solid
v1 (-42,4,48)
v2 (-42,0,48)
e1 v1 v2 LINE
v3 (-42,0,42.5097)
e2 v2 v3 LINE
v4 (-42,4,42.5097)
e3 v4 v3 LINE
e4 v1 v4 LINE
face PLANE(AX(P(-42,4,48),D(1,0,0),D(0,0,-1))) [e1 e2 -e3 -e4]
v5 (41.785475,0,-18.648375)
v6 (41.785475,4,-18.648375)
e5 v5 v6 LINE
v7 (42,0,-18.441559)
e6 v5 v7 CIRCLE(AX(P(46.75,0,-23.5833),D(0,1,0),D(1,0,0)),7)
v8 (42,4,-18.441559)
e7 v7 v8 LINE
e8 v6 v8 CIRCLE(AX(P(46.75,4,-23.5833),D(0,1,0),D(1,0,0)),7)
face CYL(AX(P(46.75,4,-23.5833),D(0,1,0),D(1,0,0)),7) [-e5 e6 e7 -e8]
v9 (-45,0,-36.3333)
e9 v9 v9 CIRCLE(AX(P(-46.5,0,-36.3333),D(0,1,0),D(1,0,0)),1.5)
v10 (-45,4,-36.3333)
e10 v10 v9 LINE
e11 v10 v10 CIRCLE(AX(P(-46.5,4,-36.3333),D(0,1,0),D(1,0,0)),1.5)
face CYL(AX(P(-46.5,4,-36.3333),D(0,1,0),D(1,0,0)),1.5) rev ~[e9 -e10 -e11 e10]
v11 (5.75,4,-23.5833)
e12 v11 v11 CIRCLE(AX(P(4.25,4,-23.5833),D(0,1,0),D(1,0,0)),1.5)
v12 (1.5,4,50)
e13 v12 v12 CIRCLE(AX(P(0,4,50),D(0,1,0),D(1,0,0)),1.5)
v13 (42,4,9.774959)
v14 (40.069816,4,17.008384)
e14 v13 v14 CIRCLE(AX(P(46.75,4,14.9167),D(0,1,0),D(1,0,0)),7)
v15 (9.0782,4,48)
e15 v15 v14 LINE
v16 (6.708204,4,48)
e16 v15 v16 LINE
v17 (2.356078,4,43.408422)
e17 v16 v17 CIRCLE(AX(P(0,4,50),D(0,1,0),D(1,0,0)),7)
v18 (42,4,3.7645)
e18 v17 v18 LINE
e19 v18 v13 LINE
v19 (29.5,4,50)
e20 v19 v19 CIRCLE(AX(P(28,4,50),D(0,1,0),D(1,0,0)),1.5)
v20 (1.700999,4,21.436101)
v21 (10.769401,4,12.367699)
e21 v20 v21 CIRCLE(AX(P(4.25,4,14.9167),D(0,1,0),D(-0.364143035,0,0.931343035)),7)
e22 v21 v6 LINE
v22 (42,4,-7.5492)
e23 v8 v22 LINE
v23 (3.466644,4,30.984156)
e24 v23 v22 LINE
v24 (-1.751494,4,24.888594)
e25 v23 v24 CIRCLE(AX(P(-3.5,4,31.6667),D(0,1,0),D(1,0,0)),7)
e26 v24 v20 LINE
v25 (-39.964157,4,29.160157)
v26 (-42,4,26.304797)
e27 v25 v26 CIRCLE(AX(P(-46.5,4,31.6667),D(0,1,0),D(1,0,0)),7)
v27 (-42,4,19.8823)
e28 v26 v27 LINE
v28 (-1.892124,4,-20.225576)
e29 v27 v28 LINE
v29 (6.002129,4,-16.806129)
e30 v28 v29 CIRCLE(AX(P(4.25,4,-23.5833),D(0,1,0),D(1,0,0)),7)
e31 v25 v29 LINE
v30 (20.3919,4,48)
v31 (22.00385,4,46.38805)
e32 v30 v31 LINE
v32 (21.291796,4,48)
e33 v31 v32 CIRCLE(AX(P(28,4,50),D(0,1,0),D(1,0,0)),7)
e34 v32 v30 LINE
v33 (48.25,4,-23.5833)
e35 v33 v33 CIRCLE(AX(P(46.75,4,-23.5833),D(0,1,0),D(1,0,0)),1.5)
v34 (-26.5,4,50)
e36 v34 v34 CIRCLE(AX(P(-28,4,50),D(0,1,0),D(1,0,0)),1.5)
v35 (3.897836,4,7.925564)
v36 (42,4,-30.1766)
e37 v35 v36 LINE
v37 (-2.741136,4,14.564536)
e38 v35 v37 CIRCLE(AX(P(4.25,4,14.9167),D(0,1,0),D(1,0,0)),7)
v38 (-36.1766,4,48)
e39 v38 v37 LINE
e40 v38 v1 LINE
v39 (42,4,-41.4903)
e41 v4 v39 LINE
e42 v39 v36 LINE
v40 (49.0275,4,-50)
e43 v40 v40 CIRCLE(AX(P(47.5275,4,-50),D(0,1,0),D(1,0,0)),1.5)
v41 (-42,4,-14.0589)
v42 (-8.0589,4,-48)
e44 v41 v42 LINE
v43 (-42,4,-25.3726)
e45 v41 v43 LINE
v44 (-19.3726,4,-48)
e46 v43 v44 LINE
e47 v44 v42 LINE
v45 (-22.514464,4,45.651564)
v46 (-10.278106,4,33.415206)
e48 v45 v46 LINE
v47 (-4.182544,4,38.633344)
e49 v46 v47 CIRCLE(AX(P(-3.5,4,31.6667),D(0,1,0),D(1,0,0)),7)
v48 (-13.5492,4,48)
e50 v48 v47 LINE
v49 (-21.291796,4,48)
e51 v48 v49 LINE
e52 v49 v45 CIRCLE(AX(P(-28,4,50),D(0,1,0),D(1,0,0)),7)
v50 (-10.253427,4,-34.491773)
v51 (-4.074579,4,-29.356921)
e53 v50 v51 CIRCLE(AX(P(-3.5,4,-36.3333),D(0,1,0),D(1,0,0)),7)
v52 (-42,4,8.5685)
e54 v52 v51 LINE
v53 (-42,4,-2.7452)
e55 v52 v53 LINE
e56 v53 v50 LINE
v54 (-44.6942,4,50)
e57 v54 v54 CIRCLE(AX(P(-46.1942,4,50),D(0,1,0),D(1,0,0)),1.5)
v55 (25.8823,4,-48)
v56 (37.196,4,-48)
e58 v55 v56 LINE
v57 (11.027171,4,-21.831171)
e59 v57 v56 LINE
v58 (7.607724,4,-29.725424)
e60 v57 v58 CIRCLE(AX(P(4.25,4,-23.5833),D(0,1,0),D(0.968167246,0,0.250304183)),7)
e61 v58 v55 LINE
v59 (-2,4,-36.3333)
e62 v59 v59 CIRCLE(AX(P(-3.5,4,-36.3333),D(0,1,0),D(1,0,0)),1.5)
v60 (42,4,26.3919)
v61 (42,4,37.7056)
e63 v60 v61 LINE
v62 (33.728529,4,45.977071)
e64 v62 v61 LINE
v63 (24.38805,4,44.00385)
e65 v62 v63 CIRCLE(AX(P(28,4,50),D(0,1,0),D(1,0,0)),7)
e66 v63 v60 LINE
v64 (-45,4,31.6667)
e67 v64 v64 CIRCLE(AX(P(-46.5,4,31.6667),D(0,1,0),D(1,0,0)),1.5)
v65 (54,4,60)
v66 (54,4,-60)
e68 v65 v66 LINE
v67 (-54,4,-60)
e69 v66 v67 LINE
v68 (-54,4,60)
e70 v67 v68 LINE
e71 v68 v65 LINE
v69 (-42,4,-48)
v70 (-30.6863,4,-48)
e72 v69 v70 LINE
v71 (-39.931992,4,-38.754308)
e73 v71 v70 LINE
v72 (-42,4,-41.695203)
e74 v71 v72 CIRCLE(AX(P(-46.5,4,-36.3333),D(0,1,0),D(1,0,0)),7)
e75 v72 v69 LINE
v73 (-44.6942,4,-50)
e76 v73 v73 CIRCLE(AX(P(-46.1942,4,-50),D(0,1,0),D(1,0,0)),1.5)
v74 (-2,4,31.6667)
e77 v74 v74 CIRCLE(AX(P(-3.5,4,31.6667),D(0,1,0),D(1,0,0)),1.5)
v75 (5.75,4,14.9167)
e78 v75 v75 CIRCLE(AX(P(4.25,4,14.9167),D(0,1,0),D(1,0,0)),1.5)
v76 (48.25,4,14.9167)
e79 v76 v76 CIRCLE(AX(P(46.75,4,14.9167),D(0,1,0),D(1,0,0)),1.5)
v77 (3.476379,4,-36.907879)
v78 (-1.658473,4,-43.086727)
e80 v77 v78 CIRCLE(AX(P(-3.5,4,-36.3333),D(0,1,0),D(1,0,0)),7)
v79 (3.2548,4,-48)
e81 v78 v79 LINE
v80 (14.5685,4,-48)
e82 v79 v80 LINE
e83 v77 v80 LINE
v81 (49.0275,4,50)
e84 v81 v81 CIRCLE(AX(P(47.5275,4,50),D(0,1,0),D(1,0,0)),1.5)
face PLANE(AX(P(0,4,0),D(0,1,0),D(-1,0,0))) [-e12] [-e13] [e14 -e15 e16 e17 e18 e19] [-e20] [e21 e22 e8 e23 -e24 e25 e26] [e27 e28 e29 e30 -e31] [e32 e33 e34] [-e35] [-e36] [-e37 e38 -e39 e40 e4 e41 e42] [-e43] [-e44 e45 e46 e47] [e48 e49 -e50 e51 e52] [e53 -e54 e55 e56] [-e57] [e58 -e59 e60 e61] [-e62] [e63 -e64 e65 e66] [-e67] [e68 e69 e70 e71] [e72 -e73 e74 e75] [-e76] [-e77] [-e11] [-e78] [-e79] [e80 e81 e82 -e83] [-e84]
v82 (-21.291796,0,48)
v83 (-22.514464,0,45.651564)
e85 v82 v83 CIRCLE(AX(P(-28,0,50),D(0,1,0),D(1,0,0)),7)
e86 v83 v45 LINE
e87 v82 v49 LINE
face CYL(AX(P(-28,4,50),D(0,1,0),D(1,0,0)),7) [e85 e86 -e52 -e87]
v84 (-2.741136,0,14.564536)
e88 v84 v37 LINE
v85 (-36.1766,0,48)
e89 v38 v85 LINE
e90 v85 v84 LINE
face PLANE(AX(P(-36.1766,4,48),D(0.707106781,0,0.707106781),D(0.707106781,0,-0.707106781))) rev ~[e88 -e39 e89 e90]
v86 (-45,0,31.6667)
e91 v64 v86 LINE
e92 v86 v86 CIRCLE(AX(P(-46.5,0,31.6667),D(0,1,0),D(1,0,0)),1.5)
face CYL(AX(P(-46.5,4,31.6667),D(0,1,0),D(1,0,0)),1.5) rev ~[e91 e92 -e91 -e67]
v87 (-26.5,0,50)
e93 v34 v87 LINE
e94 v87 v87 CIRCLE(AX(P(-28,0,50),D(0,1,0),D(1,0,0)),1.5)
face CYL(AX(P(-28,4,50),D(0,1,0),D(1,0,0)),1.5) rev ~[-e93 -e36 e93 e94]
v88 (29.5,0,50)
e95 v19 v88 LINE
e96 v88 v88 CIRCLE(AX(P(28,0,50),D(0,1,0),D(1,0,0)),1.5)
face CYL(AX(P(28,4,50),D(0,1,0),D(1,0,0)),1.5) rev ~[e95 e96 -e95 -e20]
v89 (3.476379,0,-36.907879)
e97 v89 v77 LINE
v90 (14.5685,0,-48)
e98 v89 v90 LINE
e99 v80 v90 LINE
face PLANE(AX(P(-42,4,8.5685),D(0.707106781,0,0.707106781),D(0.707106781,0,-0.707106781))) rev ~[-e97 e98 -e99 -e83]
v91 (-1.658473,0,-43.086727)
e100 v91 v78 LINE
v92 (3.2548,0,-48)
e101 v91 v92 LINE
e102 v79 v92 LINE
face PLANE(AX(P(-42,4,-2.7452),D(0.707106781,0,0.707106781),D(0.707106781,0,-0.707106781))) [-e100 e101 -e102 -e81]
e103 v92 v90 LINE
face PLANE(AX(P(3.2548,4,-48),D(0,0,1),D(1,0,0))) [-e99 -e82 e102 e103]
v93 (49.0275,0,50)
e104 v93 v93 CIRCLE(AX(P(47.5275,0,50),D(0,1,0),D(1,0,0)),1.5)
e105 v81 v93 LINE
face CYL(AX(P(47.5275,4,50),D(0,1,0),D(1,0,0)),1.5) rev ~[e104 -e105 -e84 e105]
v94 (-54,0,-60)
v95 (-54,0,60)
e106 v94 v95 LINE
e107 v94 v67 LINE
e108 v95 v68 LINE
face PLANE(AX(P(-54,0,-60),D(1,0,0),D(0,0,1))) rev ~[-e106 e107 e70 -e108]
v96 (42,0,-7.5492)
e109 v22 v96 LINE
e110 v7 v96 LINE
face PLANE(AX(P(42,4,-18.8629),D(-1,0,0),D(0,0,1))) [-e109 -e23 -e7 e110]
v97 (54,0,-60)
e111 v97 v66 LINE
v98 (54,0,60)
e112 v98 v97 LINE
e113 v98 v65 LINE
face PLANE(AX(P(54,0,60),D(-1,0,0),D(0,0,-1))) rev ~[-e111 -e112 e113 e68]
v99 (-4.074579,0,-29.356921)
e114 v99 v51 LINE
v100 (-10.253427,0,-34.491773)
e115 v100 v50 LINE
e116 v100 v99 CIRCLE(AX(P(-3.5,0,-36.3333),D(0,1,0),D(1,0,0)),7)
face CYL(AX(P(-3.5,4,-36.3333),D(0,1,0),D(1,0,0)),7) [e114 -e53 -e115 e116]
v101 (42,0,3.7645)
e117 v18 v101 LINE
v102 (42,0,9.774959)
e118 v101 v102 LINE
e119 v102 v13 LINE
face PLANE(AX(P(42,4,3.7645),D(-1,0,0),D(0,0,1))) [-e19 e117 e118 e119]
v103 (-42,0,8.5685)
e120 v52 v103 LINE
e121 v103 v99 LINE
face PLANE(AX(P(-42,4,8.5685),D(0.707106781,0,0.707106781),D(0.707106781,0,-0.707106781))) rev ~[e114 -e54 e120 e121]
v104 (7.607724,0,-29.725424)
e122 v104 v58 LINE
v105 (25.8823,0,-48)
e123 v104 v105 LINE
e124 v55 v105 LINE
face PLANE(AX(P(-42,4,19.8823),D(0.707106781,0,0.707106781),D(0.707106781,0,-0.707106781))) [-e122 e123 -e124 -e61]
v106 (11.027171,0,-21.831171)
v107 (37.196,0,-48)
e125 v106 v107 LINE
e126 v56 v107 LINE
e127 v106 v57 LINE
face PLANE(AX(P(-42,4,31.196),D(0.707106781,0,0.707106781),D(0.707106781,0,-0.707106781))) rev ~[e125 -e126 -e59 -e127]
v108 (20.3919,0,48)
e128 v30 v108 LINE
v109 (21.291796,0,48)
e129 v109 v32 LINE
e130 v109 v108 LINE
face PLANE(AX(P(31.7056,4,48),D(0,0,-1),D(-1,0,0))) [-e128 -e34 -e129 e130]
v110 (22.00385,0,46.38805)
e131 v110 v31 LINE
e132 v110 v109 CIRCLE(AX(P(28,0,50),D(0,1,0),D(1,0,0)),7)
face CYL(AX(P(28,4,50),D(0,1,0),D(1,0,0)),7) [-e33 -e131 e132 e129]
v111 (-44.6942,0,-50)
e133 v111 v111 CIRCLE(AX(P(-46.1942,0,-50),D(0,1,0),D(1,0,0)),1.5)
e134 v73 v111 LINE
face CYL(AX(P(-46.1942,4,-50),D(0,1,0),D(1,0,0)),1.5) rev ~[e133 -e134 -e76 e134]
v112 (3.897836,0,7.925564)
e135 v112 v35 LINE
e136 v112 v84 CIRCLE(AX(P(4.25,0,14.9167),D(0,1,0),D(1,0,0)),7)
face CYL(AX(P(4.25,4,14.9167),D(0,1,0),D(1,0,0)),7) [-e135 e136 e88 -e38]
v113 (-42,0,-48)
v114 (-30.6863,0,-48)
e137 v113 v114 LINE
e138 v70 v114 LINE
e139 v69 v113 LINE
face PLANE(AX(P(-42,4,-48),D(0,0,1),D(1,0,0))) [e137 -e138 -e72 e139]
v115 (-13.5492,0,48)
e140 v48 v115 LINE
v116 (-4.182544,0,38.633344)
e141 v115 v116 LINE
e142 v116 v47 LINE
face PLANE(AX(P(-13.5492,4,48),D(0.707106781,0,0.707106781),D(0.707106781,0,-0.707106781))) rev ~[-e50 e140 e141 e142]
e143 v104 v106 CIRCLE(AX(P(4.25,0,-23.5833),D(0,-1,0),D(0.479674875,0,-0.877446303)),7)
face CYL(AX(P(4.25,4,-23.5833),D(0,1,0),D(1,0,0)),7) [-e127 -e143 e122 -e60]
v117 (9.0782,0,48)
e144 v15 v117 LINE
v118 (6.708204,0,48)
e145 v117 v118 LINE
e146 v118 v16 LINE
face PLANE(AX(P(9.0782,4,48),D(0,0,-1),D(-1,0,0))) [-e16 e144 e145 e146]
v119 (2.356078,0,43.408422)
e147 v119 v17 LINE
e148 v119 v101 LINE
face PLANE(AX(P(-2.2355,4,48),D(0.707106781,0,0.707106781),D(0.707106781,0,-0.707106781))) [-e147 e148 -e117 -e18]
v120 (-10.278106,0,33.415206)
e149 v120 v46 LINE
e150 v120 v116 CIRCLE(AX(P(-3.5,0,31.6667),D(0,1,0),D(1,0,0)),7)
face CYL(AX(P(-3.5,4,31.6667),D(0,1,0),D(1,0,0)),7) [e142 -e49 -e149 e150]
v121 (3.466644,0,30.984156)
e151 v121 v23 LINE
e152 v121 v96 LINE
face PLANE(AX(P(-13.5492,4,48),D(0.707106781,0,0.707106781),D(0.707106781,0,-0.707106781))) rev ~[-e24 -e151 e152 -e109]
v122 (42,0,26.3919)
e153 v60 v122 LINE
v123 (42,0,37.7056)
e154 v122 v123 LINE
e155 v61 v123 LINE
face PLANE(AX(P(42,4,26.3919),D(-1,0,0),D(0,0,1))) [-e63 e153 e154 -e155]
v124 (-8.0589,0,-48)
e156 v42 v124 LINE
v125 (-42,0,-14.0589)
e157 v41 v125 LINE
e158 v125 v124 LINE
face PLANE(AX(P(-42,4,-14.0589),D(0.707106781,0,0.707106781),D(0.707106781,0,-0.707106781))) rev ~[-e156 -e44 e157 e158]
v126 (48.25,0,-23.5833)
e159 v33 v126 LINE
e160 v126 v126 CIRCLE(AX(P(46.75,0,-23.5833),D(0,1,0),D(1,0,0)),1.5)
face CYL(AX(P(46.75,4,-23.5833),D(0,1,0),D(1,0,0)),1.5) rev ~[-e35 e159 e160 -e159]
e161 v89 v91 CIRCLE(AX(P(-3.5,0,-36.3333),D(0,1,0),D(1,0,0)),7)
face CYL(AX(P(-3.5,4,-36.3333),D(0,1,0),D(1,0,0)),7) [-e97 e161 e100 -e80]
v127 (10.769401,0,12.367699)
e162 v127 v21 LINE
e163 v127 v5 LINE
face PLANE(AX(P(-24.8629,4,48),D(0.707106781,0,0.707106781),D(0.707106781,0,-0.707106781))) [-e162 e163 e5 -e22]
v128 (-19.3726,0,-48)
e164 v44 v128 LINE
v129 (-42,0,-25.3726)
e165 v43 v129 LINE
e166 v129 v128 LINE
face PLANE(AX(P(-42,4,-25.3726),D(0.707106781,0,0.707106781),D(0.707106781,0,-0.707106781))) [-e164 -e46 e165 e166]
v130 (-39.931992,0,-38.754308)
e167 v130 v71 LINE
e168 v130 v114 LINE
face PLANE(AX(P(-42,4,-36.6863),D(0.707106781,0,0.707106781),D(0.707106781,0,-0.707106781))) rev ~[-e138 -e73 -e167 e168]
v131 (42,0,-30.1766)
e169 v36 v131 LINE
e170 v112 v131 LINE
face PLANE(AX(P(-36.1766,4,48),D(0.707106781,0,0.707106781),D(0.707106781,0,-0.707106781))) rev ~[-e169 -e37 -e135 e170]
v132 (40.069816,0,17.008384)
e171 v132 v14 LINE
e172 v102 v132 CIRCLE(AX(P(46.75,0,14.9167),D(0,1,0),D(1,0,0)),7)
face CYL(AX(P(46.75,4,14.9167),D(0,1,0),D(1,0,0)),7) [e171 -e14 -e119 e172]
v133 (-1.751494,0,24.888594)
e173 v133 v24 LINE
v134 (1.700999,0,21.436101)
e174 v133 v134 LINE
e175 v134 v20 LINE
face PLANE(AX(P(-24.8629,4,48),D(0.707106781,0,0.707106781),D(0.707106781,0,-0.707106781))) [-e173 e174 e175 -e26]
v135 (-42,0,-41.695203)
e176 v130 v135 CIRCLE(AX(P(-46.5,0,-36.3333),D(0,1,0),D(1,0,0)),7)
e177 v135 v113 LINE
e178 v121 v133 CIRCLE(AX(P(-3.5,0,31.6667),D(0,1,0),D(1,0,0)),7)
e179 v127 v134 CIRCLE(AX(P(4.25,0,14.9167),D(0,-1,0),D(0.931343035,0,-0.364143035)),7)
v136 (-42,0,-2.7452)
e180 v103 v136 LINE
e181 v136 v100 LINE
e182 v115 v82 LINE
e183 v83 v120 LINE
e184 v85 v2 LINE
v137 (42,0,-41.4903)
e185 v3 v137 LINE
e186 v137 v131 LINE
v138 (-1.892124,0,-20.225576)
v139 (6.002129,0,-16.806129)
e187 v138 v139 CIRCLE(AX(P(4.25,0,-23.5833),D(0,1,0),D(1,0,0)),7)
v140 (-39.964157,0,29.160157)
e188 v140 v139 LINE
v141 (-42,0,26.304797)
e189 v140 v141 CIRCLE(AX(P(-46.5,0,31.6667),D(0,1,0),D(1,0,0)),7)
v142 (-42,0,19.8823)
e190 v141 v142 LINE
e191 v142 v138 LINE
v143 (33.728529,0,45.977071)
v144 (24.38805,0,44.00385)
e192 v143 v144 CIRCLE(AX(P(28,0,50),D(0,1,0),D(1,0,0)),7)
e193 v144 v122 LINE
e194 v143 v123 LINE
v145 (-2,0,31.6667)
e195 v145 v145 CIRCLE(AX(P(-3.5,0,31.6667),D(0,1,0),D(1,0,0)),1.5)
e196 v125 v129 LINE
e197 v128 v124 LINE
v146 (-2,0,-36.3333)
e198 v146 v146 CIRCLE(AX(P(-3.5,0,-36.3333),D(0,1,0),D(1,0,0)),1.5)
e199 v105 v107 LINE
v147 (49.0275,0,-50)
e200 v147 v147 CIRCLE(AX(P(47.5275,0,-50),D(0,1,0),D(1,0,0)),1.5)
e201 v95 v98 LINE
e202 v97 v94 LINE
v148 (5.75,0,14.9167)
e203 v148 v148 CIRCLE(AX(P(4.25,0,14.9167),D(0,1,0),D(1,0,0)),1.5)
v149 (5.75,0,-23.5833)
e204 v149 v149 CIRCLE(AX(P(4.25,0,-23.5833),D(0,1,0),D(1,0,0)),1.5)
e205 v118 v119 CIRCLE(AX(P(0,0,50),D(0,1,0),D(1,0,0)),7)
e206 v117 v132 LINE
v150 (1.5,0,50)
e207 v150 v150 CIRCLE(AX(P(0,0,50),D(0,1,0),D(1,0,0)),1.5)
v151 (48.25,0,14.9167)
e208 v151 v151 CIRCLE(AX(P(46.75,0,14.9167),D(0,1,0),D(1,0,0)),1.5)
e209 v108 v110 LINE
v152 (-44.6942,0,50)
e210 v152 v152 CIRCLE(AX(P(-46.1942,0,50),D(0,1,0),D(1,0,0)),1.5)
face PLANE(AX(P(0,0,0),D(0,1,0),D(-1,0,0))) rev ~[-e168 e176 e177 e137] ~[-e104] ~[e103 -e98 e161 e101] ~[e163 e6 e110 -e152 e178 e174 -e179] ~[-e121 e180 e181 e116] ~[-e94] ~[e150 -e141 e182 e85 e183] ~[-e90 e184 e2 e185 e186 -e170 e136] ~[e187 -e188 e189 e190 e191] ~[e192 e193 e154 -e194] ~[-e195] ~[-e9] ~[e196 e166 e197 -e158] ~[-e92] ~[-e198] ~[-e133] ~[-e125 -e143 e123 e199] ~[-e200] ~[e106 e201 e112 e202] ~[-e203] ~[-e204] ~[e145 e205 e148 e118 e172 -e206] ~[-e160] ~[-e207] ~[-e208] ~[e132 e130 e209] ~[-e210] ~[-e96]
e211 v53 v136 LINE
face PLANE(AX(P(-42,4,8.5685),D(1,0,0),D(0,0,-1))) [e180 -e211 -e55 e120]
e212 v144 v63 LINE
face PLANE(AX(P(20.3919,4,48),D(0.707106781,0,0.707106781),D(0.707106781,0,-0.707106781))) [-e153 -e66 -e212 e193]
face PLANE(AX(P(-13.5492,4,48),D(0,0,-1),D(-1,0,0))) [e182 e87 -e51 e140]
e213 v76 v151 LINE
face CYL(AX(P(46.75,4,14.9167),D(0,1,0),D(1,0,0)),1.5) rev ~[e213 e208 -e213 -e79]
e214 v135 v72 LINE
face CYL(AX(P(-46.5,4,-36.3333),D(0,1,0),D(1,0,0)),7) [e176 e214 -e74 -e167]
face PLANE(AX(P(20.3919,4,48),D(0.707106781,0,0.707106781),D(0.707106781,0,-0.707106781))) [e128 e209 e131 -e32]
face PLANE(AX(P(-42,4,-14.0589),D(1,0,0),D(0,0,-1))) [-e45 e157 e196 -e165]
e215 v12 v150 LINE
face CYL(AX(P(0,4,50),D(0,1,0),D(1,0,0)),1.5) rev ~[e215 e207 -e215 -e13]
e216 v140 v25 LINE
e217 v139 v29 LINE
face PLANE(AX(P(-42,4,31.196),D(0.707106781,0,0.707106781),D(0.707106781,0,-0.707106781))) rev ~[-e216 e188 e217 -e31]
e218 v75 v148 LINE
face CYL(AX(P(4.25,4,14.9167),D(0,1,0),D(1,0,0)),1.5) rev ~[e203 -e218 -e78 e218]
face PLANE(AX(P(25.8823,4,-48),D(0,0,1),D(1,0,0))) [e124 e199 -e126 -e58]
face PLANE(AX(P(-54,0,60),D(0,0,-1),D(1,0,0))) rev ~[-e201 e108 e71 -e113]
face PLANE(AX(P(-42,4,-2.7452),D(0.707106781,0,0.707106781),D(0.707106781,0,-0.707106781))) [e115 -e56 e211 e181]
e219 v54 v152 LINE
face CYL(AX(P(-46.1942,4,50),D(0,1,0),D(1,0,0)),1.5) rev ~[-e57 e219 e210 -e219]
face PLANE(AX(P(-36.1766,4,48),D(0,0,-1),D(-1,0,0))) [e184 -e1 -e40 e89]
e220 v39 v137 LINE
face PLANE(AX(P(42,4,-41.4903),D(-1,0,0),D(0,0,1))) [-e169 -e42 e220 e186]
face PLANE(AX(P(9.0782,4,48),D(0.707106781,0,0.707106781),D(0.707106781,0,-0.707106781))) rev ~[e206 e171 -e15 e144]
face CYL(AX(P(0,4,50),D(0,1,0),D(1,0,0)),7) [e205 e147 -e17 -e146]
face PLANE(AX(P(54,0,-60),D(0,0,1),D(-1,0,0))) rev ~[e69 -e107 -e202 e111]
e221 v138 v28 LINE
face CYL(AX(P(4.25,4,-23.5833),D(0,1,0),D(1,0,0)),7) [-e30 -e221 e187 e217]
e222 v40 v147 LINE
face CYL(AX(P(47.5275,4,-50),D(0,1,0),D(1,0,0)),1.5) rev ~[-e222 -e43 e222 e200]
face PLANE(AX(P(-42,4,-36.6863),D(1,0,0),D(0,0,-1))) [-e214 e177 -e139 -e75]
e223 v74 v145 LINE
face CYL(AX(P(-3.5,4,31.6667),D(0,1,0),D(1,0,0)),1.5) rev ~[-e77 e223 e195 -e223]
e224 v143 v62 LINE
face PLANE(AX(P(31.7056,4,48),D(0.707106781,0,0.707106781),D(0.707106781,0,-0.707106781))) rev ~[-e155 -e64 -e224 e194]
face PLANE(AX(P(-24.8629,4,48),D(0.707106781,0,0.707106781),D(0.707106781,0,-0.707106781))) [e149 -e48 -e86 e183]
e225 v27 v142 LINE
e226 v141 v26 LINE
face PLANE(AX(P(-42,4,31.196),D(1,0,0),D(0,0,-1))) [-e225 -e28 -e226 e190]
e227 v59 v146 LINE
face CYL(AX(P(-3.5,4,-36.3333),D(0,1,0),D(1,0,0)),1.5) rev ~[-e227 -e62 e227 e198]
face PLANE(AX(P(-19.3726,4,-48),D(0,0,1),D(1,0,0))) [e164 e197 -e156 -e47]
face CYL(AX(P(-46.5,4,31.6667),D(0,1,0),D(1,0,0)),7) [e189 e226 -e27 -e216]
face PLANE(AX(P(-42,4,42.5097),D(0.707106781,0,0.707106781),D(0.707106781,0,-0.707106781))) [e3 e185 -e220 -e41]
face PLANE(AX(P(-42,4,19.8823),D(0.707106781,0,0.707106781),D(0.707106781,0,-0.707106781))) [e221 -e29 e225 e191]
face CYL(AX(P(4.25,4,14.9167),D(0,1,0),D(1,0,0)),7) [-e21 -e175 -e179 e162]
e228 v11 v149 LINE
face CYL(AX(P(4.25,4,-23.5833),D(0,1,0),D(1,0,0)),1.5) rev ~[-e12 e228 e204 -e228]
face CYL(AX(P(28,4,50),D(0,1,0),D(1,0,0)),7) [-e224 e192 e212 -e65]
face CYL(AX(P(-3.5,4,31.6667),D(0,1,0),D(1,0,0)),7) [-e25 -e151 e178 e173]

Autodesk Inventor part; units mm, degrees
ref_plane "YZ Plane" through (0, 0, 0) normal (1, 0, 0) x (0, 1, 0)
ref_plane "XZ Plane" through (0, 0, 0) normal (0, 1, 0) x (-1, 0, 0)
ref_plane "XY Plane" through (0, 0, 0) normal (0, 0, 1) x (1, 0, 0)
sketch "Boceto1" plane through (0, 0, 0) normal (0, 1, 0) x (-1, 0, 0)
  line L0 (54, 60) -> (-54, 60)
  line L1 (-54, 60) -> (-54, -60)
  line L2 (-54, -60) -> (54, -60)
  line L3 (54, -60) -> (54, 60)
  line L4 (141.1986, 0) -> (-141.1986, 0) construction
  line L5 (0, -44.0939) -> (0, 44.0939) construction
  point P0 (0, 0)
  point P1 (54, 0)
  point P2 (0, -60)
  point P3 (0, 0)
  dimension "d0" = 108
  dimension "d1" = 120
extrude "Extrusión1" add sketch "Boceto1" along normal blind 4
sketch "Boceto2" plane through (0, 4, 0) normal (0, 1, 0) x (1, 0, 0)
  circle A0 centre (-46.5, 36.3333) radius 1.5 projected
  circle A1 centre (-3.5, 36.3333) radius 1.5 projected
  circle A2 centre (-46.5, -31.6667) radius 1.5 projected
  circle A3 centre (-3.5, -31.6667) radius 1.5 projected
  circle A4 centre (4.25, -14.9167) radius 1.5 projected
  circle A5 centre (46.75, -14.9167) radius 1.5 projected
  circle A6 centre (46.75, 23.5833) radius 1.5 projected
  circle A7 centre (4.25, 23.5833) radius 1.5 projected
  circle A8 centre (0, -50) radius 1.5
  circle A9 centre (28, -50) radius 1.5
  circle A10 centre (-28, -50) radius 1.5
  line L0 (-28, -50) -> (28, -50) construction
  line L1 (-54, -60) -> (54, -60) construction
  circle A11 centre (-46.5, 36.3333) radius 7
  circle A12 centre (-3.5, 36.3333) radius 7
  circle A13 centre (4.25, 23.5833) radius 7
  circle A14 centre (46.75, 23.5833) radius 7
  circle A15 centre (46.75, -14.9167) radius 7
  circle A16 centre (4.25, -14.9167) radius 7
  circle A17 centre (-3.5, -31.6667) radius 7
  circle A18 centre (-46.5, -31.6667) radius 7
  circle A19 centre (-28, -50) radius 7
  circle A20 centre (0, -50) radius 7
  circle A21 centre (28, -50) radius 7
  point P0 (0, 0)
  dimension "d9" = 28
  dimension "d10" = 3
  dimension "d11" = 10
  dimension "d33" = 14
sketch "Boceto3" plane through (0, 4, 0) normal (0, 1, 0) x (1, 0, 0)
  line L0 (-54, -60) -> (54, -60) projected
  line L1 (54, -60) -> (54, 60) projected
  line L2 (54, 60) -> (-54, 60) projected
  line L3 (-54, 60) -> (-54, -60) projected
  line L4 (-42, 48) -> (42, 48)
  line L5 (42, 48) -> (42, -48)
  line L6 (42, -48) -> (-42, -48)
  line L7 (-42, -48) -> (-42, 48)
  line L8 (-42, 36.6863) -> (-30.6863, 48)
  line L9 (-42, 25.3726) -> (-19.3726, 48)
  line L10 (-42, 14.0589) -> (-8.0589, 48)
  line L11 (-42, 2.7452) -> (3.2548, 48)
  line L12 (-42, -8.5685) -> (14.5685, 48)
  line L13 (-42, -19.8823) -> (25.8823, 48)
  line L14 (-42, -31.196) -> (37.196, 48)
  line L15 (-42, -42.5097) -> (42, 41.4903)
  line L16 (-36.1766, -48) -> (42, 30.1766)
  line L17 (-24.8629, -48) -> (42, 18.8629)
  line L18 (-13.5492, -48) -> (42, 7.5492)
  line L19 (-2.2355, -48) -> (42, -3.7645)
  line L20 (9.0782, -48) -> (42, -15.0782)
  line L21 (20.3919, -48) -> (42, -26.3919)
  line L22 (31.7056, -48) -> (42, -37.7056)
  point P0 (0, 0)
  point P1 (0, 48)
  point P2 (0, 60)
  dimension "d12" = 12
  dimension "d13" = 12
  dimension "d14" = 12
  dimension "d15" = 45
  dimension "d16" = 8
  dimension "d17" = 8
  dimension "d18" = 8
  dimension "d19" = 8
  dimension "d20" = 8
  dimension "d21" = 8
  dimension "d22" = 8
  dimension "d23" = 8
  dimension "d24" = 8
  dimension "d25" = 8
  dimension "d26" = 8
  dimension "d27" = 8
  dimension "d28" = 8
  dimension "d29" = 8
  dimension "d30" = 8
extrude "Extrusión2" cut sketch "Boceto3" against normal blind 10 contours L4 L8 L7 | L4 L10 L7 L9 | L4 L12 L7 L11 | L4 L14 L7 L13 | L15 L5 L16 L6 L7 | L5 L18 L6 L17 | L5 L20 L6 L19 | L5 L22 L6 L21
extrude "Extrusión3" add sketch "Boceto2" against normal blind 4
sketch "Boceto4" plane through (0, 4, 0) normal (0, 1, 0) x (1, 0, 0)
  circle A0 centre (-46.5, 36.3333) radius 1.5 projected
  circle A1 centre (46.75, 23.5833) radius 1.5 projected
  circle A2 centre (46.75, -14.9167) radius 1.5 projected
  circle A3 centre (28, -50) radius 1.5 projected
  circle A4 centre (0, -50) radius 1.5 projected
  circle A5 centre (-28, -50) radius 1.5 projected
  circle A6 centre (-46.5, -31.6667) radius 1.5 projected
  circle A7 centre (4.25, -14.9167) radius 1.5 projected
  point P0 (0, 0)
extrude "Extrusión4" cut sketch "Boceto4" against normal through all
sketch "Boceto5" plane through (0, 4, 0) normal (0, 1, 0) x (1, 0, 0)
  circle A0 centre (-46.1942, 50) radius 1.5 projected
  circle A1 centre (47.5275, 50) radius 1.5 projected
  circle A2 centre (-46.1942, -50) radius 1.5 projected
  circle A3 centre (47.5275, -50) radius 1.5 projected
  point P0 (0, 0)
extrude "Extrusión5" cut sketch "Boceto5" against normal through all
equation "\"d13\" = d12"
equation "\"d17\" = d16"
equation "\"d18\" = d16"
equation "\"d19\" = d18"
equation "\"d20\" = d19"
equation "\"d21\" = d20"
equation "\"d22\" = d21"
equation "\"d23\" = d22"
equation "\"d24\" = d23"
equation "\"d25\" = d24"
equation "\"d26\" = d25"
equation "\"d27\" = d26"
equation "\"d28\" = d27"
equation "\"d29\" = d28"
equation "\"d30\" = d29"
properties part number "bandeja componentes"
